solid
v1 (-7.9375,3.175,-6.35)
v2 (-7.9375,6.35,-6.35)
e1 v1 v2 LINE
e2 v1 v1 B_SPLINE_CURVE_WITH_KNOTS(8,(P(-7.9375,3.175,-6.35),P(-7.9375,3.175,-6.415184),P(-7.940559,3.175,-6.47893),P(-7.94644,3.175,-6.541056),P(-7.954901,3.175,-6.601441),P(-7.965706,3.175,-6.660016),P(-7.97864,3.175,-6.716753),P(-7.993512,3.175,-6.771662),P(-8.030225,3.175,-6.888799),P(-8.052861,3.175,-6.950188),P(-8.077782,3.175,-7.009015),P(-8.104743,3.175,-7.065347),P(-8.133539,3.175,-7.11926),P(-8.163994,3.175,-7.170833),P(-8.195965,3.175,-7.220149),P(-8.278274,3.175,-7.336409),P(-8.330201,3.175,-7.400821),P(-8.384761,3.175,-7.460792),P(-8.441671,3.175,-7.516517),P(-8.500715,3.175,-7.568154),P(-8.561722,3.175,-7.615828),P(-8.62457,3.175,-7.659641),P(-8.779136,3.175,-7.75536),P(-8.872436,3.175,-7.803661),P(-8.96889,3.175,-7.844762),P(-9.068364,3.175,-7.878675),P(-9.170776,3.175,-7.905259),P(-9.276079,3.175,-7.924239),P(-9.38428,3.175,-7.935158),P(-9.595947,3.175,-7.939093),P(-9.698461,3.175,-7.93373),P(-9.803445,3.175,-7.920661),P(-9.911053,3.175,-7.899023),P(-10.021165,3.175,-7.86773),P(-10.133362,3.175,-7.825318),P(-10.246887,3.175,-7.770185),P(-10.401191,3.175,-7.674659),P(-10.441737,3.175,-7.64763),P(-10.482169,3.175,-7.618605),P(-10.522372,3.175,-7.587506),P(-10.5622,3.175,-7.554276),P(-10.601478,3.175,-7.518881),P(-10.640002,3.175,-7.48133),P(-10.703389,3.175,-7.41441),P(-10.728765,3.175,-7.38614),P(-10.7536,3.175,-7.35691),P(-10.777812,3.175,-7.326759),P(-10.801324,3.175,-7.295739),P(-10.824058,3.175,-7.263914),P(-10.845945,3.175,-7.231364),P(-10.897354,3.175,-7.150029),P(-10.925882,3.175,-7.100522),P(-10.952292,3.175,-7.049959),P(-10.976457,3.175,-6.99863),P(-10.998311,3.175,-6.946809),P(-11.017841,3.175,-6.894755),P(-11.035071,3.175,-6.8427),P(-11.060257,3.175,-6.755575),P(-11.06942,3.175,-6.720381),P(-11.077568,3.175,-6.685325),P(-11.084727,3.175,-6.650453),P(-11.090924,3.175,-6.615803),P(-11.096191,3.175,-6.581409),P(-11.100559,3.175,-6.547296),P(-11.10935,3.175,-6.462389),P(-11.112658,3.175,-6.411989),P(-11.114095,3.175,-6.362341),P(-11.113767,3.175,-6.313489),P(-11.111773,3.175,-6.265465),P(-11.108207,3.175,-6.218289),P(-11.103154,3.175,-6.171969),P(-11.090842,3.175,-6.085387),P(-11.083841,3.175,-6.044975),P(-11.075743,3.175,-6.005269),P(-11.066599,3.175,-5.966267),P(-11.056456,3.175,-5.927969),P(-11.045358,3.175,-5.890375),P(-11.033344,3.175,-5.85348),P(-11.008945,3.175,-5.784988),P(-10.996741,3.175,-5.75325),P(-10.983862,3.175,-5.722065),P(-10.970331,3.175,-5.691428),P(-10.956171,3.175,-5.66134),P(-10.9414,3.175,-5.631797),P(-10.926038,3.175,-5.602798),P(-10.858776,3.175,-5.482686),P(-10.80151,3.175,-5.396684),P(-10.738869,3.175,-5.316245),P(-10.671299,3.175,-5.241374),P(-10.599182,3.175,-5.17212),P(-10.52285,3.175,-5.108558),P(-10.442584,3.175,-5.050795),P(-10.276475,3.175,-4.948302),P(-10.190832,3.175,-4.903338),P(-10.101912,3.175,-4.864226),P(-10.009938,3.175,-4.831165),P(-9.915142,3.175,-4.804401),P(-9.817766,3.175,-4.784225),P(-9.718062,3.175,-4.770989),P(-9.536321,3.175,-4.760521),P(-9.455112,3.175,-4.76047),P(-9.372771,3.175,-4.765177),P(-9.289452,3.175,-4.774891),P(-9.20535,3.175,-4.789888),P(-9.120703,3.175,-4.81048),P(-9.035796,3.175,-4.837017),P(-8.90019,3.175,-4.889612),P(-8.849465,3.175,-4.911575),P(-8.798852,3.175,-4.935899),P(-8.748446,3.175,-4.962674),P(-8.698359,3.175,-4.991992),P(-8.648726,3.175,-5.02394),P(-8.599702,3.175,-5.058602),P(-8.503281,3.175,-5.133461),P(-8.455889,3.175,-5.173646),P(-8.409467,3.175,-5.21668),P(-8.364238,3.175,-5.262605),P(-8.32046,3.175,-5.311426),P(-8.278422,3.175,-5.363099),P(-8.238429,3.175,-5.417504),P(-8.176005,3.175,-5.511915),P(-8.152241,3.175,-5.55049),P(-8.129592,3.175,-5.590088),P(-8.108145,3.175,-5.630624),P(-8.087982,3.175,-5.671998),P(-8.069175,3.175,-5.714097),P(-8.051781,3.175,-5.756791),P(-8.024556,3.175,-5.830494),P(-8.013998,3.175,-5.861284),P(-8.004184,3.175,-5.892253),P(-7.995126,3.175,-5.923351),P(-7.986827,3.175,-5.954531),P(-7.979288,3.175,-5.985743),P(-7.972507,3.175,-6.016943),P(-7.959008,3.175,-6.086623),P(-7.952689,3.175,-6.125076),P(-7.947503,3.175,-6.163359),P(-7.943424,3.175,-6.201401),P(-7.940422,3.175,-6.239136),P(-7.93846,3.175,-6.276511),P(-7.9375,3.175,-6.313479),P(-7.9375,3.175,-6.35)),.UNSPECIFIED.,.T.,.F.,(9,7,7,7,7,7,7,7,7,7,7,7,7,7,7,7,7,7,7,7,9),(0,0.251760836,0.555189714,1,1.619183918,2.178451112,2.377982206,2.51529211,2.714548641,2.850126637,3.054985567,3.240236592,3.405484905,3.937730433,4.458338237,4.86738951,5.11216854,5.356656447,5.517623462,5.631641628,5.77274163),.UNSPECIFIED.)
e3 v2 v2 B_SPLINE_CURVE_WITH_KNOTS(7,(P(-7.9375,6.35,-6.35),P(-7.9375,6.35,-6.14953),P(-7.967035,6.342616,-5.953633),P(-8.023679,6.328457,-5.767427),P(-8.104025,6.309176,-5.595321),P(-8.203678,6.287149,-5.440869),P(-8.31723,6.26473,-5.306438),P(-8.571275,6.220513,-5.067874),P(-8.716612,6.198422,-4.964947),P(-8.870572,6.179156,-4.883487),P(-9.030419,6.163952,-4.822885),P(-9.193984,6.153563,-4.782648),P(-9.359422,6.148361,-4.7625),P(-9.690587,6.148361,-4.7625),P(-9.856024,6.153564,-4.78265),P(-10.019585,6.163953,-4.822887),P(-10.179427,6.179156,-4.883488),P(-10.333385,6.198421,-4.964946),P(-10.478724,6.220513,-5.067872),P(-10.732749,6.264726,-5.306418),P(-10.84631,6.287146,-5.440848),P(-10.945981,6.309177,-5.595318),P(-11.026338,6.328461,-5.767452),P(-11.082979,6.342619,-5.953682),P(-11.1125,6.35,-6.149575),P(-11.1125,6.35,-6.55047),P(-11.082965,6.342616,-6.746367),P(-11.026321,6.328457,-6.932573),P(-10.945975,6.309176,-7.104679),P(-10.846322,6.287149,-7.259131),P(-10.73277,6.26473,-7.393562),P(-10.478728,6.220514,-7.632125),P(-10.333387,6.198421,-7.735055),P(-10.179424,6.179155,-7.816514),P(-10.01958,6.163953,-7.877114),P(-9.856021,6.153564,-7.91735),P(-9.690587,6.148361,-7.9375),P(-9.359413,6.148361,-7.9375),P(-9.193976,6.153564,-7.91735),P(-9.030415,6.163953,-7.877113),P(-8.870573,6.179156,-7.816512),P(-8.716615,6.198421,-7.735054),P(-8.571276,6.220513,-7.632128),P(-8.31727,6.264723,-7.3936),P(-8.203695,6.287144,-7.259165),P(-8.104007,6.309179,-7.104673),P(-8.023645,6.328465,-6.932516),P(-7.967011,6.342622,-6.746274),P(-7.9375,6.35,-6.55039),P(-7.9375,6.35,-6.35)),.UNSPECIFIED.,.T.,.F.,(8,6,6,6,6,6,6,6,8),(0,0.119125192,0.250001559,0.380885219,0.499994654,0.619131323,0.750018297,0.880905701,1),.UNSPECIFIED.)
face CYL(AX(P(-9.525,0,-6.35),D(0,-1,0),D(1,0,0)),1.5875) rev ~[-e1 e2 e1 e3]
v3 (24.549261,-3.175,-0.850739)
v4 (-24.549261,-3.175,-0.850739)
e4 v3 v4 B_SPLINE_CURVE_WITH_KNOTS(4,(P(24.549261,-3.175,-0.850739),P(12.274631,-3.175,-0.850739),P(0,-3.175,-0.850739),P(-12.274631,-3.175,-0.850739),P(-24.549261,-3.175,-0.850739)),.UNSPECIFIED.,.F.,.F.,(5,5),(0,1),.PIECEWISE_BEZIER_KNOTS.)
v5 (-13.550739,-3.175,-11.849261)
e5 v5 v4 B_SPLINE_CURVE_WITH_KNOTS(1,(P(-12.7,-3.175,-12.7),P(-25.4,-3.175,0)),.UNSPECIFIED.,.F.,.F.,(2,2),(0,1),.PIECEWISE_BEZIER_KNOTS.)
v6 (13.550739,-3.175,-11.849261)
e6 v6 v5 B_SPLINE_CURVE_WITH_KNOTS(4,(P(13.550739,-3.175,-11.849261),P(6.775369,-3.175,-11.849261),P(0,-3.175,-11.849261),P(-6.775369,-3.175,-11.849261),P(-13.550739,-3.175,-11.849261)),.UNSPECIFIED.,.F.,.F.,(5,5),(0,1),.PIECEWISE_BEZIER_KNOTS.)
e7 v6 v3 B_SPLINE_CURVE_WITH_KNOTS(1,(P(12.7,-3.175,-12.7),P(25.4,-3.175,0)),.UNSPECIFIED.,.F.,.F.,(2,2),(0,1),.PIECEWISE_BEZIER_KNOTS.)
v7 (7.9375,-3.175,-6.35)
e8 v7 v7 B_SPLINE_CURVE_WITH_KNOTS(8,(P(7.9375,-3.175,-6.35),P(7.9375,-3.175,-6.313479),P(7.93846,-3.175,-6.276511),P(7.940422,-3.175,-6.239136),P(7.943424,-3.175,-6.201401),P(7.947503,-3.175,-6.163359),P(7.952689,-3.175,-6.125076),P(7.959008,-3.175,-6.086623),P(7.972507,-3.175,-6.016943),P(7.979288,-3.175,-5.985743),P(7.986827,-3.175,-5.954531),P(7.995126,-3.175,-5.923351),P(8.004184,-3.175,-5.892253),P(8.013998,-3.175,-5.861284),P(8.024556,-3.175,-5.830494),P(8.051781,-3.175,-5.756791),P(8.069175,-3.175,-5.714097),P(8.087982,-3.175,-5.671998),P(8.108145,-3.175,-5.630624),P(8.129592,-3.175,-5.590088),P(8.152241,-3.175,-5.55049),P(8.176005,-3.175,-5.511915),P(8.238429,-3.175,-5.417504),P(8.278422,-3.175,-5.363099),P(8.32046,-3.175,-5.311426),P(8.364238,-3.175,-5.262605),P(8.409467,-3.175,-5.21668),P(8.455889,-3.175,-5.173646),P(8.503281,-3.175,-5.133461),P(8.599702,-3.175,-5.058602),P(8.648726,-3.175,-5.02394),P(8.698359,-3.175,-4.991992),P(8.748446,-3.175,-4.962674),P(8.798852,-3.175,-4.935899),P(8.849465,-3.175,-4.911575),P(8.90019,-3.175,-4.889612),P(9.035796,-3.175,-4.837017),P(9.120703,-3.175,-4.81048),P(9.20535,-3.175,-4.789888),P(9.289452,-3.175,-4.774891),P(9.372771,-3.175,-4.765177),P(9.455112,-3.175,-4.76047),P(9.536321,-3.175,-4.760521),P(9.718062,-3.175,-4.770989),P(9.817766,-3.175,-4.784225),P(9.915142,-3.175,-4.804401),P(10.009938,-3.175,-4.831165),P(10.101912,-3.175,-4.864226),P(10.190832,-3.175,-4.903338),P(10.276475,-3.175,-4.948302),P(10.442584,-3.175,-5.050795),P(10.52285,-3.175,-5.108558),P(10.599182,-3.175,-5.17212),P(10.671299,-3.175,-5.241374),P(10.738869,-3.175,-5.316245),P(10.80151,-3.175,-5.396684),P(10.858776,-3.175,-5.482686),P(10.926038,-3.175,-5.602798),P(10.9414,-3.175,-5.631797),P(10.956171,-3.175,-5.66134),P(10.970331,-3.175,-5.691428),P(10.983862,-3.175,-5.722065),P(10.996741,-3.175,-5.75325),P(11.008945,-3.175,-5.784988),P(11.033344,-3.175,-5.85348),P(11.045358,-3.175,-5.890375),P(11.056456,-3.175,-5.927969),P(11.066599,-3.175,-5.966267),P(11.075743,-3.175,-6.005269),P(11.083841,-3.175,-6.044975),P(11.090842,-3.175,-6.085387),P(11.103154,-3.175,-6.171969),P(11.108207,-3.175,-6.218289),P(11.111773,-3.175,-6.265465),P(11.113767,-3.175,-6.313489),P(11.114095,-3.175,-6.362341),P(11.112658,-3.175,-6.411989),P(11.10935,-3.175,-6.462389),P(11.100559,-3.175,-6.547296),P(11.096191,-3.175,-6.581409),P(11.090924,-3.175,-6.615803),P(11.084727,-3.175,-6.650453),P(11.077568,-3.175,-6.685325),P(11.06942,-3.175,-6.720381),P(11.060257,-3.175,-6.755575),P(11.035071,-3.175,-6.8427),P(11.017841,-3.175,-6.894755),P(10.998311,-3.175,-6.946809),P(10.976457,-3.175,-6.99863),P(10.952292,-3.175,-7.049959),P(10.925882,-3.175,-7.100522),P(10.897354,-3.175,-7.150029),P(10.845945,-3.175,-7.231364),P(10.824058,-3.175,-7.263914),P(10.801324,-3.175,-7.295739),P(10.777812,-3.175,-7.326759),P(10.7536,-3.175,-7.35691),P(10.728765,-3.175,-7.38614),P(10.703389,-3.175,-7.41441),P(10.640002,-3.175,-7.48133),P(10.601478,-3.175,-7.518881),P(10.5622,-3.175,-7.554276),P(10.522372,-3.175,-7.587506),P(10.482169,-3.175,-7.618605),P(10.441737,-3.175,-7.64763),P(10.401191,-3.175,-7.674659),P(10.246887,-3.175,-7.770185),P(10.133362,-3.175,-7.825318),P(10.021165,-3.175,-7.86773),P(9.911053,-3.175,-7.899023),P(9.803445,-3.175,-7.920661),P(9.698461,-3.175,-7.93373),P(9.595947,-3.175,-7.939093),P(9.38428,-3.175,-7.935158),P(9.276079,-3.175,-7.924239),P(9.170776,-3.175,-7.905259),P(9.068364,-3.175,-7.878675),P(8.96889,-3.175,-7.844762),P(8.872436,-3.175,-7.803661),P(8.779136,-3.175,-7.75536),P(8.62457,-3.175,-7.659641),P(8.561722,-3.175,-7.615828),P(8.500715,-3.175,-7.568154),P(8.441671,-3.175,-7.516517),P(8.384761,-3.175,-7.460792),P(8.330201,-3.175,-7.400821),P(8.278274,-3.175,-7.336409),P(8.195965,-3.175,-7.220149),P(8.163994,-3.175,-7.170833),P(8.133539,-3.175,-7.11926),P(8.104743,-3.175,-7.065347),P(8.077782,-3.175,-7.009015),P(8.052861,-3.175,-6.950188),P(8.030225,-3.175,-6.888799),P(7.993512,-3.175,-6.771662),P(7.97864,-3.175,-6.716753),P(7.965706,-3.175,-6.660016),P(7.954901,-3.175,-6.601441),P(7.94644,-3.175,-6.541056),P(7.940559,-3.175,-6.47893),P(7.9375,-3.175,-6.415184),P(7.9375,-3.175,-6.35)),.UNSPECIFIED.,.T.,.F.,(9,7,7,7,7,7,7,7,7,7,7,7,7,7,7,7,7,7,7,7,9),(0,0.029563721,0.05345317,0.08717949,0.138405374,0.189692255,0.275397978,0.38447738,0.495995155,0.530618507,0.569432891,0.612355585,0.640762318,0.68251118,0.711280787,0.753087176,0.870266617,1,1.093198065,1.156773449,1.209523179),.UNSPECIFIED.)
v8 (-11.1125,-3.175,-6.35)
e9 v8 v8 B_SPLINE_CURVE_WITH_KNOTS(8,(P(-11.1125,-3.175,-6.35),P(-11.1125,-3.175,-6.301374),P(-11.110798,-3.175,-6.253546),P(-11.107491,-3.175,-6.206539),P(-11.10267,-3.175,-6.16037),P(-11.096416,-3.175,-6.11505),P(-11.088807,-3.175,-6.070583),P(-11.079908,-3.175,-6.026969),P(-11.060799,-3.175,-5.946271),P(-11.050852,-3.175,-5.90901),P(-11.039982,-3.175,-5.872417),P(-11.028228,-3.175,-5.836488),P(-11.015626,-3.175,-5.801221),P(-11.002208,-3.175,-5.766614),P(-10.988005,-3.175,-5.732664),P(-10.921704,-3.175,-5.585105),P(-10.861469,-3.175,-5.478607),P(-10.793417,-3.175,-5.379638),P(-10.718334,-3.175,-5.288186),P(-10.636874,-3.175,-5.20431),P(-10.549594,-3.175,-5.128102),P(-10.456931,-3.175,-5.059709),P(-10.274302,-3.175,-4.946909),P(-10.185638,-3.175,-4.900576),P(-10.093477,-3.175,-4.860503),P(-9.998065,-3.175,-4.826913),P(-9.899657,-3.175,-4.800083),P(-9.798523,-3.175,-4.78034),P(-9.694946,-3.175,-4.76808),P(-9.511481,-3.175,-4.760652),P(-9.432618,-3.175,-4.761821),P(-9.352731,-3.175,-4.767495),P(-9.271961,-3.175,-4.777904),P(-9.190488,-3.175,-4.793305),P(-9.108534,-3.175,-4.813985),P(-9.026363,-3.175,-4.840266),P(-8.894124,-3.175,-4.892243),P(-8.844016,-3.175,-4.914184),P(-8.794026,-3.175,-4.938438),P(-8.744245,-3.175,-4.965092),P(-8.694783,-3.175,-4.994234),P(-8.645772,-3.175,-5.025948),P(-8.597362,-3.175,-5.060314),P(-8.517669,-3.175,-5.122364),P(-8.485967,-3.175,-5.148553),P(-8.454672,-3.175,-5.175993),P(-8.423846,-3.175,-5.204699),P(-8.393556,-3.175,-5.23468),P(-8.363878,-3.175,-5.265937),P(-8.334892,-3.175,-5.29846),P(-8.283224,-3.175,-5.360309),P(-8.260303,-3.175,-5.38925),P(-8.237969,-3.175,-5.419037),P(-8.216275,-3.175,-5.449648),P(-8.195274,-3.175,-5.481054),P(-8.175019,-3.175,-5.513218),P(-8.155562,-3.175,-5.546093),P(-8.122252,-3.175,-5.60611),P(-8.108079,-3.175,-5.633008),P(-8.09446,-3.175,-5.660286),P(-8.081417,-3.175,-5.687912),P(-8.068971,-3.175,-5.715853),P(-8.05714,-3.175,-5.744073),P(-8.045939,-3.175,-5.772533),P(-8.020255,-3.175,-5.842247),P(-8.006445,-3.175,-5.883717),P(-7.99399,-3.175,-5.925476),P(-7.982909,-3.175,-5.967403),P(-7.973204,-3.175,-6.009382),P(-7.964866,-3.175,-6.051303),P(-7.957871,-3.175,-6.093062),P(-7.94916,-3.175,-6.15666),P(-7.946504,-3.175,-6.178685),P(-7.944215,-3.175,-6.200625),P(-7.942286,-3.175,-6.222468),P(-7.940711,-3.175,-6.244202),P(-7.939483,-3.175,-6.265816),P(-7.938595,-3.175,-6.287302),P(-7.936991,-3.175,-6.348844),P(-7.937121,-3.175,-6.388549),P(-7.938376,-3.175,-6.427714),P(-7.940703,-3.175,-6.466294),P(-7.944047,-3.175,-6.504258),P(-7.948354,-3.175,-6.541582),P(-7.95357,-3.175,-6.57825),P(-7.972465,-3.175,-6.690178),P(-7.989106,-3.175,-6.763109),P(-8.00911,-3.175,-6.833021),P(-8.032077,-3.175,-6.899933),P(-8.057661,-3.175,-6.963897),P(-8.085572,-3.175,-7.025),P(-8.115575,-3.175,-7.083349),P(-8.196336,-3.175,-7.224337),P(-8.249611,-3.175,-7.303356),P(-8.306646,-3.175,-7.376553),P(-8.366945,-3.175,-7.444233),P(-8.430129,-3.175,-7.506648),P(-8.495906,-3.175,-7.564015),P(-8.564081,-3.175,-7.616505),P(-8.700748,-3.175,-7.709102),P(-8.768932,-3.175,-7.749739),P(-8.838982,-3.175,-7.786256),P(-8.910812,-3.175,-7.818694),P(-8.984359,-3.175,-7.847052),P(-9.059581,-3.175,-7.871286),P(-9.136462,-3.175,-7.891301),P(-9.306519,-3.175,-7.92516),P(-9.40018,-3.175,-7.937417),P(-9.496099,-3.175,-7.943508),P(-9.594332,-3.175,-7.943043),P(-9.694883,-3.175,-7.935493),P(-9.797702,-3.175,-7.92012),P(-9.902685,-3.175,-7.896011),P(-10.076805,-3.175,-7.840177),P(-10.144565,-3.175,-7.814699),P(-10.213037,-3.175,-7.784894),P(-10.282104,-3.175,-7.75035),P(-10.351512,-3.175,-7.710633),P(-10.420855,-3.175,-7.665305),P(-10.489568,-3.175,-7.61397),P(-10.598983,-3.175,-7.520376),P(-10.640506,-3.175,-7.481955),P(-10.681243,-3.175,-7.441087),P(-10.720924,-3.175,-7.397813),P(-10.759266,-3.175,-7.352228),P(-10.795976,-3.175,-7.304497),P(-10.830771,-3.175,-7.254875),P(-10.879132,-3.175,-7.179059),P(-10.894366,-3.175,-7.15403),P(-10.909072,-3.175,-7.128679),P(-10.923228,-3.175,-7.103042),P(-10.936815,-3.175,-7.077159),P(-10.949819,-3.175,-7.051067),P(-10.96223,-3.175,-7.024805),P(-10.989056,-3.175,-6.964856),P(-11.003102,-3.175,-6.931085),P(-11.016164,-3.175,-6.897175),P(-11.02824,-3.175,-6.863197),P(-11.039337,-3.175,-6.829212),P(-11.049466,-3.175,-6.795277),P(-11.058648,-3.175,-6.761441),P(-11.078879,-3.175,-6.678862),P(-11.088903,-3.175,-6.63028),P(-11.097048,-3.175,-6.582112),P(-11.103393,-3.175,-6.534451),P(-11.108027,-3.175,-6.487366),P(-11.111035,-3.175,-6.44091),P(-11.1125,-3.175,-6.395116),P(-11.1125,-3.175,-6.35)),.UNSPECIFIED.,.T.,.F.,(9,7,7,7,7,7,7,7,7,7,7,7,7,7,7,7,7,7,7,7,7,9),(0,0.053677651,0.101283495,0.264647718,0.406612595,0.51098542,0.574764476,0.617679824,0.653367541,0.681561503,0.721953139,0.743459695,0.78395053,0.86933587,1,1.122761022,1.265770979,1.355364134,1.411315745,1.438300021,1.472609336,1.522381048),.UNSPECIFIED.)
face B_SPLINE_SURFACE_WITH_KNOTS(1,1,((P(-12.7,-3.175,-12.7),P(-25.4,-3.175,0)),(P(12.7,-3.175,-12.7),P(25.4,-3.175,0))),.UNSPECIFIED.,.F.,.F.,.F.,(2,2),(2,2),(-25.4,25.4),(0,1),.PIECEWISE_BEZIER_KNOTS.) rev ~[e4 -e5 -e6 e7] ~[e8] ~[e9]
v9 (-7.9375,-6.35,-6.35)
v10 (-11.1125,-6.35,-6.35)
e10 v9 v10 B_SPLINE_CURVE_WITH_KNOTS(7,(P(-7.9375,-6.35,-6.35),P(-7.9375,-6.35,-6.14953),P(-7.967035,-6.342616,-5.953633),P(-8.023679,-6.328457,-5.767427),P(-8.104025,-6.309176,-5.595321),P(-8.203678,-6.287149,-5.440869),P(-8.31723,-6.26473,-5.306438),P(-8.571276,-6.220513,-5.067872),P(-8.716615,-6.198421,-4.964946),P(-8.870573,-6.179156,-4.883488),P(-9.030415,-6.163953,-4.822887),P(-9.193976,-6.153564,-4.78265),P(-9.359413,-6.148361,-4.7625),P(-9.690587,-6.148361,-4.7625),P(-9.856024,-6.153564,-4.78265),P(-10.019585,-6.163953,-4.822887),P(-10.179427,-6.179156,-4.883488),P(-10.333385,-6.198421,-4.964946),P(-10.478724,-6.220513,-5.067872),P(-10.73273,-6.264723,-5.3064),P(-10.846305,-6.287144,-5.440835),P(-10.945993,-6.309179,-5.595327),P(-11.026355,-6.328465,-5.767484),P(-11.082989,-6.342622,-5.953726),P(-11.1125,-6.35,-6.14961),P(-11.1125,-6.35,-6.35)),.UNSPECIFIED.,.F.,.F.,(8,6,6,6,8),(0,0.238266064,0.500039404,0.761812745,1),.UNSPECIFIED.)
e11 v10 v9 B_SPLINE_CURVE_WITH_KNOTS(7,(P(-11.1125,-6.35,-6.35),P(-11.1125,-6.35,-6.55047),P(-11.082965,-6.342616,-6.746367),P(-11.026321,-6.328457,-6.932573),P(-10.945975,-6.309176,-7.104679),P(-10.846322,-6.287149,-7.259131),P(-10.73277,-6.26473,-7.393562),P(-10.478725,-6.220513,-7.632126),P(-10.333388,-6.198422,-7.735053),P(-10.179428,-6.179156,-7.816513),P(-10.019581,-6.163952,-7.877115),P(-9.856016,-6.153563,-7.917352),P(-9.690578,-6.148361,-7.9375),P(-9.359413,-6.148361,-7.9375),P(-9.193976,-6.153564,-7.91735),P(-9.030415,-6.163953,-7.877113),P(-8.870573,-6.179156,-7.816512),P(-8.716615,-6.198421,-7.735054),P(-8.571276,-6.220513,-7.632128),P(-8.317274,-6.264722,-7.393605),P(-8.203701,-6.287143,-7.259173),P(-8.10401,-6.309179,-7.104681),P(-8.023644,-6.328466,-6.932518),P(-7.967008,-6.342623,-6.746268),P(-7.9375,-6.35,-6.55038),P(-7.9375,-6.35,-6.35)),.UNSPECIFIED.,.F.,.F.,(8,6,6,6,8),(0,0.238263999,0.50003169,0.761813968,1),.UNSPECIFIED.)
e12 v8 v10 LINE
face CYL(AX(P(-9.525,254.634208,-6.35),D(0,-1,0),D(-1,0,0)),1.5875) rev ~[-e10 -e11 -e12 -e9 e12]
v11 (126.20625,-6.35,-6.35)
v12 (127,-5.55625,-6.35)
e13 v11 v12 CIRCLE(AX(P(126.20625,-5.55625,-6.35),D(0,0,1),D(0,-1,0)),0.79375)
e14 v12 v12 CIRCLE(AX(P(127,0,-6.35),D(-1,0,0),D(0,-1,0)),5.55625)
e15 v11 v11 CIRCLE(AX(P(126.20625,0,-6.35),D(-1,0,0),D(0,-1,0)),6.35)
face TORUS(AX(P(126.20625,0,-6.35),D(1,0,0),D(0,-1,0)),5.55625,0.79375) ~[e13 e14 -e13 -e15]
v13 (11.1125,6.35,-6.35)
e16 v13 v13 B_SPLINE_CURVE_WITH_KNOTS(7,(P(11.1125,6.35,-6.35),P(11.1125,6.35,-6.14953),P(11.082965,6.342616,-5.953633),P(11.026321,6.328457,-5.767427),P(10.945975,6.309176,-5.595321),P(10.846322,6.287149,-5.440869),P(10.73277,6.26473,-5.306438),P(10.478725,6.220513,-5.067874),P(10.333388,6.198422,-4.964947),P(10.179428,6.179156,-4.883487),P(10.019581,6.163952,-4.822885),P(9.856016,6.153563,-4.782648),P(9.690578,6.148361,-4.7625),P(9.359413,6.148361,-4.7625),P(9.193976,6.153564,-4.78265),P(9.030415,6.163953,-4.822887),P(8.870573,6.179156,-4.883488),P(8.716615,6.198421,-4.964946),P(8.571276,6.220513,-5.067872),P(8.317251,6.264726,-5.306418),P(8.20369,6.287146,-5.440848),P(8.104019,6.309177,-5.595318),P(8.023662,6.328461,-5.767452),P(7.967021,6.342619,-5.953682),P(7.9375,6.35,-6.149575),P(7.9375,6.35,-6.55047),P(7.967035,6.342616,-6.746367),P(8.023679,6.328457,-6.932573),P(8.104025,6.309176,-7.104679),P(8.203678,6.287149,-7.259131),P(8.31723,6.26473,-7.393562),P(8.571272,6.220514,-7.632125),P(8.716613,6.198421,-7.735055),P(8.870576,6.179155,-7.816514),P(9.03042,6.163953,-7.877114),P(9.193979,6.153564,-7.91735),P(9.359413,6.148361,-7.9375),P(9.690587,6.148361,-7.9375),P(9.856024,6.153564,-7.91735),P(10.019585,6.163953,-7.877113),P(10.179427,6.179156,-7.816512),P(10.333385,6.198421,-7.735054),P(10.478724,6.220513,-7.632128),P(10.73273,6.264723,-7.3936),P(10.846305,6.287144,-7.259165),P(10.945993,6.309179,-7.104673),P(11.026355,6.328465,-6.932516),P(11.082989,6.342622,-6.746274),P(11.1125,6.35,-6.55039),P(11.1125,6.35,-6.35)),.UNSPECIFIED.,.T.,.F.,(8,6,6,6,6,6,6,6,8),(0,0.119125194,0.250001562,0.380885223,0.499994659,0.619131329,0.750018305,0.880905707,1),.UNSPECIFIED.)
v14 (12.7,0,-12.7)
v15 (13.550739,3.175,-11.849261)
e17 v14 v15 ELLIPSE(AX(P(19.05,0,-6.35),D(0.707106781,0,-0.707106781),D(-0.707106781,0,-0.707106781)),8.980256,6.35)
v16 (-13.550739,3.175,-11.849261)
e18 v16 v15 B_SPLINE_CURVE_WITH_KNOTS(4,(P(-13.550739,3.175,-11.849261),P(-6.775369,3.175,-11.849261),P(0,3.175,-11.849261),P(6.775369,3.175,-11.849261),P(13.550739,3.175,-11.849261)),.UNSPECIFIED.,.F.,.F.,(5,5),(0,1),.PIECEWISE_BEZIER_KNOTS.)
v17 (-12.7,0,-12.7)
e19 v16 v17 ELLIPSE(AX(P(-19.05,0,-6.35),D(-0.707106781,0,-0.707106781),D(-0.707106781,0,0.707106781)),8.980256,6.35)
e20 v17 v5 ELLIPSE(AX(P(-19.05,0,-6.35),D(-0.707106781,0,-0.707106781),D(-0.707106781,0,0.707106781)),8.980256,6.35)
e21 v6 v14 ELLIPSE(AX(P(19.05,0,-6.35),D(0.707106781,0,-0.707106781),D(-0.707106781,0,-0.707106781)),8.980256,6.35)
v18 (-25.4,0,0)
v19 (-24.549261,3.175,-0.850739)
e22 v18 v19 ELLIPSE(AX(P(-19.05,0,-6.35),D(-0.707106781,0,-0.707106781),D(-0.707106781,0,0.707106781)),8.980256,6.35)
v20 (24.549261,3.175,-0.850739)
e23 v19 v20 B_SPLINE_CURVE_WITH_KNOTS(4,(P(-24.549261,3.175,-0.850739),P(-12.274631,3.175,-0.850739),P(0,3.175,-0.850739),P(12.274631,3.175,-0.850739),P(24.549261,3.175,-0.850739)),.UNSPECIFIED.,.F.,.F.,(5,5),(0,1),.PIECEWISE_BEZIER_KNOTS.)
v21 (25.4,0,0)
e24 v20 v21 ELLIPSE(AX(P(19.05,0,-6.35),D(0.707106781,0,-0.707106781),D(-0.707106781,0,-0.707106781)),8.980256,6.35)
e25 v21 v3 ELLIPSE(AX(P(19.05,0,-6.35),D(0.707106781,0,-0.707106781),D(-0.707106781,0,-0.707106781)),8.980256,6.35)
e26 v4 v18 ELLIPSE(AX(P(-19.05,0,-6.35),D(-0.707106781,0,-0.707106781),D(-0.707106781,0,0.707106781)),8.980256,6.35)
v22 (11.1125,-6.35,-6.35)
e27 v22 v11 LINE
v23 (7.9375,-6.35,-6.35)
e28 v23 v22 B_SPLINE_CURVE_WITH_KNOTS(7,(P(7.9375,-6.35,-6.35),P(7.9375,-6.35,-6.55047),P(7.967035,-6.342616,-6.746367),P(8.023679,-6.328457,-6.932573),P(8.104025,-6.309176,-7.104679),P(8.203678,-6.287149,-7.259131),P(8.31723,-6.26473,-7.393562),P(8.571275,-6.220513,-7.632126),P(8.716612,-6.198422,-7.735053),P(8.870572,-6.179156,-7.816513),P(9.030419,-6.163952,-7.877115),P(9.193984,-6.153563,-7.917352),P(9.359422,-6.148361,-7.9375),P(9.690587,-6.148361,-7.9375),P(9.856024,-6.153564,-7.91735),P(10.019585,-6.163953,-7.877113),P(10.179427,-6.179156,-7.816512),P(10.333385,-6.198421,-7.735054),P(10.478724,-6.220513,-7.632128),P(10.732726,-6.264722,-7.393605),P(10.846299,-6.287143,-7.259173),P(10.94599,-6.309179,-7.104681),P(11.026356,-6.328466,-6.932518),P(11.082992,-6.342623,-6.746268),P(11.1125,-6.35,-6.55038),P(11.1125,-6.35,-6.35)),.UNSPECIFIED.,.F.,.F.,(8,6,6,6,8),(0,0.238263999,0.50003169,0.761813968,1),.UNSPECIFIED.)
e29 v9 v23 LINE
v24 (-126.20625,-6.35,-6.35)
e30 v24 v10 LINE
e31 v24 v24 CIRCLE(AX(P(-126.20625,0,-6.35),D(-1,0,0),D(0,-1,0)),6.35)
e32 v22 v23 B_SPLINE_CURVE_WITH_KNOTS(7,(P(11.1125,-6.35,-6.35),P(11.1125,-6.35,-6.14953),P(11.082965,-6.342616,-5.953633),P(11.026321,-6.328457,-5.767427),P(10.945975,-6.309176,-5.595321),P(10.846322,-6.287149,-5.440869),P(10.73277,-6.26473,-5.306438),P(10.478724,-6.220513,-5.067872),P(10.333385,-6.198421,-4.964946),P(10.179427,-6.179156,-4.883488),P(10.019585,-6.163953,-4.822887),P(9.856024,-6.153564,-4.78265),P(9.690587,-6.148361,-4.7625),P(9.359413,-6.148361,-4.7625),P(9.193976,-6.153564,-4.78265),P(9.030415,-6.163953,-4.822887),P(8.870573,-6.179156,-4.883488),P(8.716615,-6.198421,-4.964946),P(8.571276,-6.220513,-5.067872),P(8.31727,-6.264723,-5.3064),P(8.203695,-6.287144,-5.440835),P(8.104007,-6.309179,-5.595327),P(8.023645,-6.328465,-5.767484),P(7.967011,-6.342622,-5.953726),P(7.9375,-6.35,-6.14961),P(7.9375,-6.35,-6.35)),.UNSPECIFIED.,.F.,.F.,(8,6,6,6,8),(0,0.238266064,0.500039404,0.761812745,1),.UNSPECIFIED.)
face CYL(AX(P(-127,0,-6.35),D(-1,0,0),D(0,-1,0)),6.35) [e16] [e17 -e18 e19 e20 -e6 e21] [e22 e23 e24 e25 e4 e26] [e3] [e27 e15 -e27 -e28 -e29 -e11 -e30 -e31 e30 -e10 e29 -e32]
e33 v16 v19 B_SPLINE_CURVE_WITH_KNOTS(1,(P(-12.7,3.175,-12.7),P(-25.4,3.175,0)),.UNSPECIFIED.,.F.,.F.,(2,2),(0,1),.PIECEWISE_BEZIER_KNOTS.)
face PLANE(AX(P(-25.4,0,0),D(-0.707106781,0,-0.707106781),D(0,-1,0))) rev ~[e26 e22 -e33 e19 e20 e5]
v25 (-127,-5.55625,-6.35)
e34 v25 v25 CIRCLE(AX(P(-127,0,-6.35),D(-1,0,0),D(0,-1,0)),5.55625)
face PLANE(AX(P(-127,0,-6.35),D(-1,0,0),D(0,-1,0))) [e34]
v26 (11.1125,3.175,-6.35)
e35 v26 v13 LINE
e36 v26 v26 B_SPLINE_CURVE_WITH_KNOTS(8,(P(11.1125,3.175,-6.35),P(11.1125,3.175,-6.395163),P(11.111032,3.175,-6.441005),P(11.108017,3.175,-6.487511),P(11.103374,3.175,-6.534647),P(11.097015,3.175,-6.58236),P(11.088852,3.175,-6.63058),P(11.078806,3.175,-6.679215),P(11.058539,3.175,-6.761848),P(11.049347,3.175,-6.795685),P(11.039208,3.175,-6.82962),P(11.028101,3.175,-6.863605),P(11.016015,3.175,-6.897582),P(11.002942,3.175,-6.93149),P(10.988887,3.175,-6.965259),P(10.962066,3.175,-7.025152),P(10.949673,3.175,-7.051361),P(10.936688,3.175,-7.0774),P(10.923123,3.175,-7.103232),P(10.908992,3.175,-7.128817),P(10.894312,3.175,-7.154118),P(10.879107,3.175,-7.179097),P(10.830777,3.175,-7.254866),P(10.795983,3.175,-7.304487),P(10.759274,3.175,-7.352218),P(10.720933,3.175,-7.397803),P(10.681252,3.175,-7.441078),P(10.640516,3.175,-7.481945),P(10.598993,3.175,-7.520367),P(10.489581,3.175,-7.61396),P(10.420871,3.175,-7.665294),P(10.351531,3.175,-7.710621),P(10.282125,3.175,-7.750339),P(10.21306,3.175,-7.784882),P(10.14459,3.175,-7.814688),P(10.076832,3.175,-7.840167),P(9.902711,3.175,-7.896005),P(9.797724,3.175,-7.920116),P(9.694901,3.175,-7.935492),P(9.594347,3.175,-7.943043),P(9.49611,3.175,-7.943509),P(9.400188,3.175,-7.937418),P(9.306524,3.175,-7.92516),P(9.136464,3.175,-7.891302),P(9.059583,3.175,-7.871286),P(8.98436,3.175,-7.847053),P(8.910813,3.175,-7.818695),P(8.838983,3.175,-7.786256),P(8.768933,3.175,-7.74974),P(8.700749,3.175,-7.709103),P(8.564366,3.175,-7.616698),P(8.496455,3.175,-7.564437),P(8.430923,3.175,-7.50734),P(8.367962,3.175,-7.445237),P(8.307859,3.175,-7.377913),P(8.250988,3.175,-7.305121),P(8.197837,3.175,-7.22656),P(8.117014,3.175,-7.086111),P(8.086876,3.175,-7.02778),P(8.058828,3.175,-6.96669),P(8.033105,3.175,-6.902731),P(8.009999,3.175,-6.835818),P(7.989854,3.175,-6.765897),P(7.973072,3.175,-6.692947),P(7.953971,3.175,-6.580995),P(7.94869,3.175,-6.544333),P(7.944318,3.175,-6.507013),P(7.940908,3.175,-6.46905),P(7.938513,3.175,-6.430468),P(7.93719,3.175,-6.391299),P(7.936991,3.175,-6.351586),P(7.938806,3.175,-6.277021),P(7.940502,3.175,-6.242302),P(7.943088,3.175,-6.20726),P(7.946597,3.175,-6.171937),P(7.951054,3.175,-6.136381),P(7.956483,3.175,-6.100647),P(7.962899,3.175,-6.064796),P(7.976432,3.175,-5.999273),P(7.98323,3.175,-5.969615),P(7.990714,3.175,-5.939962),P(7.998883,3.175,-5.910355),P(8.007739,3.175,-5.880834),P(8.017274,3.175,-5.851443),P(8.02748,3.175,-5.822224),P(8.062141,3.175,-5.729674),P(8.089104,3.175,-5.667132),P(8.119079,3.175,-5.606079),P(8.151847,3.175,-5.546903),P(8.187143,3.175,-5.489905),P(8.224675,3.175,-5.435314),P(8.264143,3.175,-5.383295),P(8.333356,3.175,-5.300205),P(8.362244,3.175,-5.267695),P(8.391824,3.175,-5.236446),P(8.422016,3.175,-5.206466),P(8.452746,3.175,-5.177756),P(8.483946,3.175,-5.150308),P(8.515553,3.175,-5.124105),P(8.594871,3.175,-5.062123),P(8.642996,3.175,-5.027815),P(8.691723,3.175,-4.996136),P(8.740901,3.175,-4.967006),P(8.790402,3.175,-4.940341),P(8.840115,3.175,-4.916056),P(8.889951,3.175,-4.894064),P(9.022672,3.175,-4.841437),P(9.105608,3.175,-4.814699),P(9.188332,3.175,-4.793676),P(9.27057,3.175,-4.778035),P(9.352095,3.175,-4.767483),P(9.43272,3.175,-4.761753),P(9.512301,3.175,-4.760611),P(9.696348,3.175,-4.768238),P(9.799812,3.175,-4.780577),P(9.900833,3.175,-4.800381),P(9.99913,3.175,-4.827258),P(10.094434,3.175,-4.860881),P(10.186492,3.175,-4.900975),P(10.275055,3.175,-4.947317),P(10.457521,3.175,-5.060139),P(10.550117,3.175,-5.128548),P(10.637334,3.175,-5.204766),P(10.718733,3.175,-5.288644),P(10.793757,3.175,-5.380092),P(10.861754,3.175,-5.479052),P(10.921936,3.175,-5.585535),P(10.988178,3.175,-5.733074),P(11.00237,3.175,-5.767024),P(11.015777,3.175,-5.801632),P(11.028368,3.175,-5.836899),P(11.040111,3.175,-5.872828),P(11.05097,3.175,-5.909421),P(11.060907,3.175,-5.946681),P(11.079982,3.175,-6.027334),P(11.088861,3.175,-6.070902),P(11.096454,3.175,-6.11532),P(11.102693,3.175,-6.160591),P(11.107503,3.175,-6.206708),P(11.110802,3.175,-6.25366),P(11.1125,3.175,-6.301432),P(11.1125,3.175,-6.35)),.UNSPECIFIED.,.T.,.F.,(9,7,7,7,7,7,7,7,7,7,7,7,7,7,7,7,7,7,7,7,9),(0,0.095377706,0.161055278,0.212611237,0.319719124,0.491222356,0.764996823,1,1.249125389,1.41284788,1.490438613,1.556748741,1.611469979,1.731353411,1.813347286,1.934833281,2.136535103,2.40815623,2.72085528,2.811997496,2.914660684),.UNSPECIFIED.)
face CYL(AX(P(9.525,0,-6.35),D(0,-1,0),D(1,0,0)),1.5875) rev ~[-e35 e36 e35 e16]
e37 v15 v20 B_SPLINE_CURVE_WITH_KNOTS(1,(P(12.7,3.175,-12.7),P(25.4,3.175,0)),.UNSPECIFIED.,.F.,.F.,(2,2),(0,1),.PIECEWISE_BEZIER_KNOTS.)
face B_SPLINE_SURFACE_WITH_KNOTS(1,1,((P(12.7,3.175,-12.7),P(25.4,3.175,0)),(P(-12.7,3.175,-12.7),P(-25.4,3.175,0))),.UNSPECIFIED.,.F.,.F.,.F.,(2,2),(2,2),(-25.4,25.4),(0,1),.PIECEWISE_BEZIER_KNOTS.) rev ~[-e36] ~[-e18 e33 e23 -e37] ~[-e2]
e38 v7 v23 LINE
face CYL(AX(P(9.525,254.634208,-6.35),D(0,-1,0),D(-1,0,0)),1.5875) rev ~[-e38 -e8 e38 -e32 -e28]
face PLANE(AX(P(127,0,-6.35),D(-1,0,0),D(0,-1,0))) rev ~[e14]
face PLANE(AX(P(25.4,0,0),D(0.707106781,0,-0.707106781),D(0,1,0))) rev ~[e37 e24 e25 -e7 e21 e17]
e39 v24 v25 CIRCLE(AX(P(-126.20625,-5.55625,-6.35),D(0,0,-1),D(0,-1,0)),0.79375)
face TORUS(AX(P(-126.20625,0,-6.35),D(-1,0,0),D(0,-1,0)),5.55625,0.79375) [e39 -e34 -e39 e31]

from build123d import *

# Parameters (mm, degrees)
F7_R      = 6.35
F8_DEPTH  = 254
F10_W     = 25.4
F10_H     = 6.35
F9_W      = 50.8
F9_H      = 6.35
F11_D     = 3.175
F11_DEPTH = 6.3510001
F5_D      = 3.175
F6_R      = 0.79375


with BuildPart() as f8:
    # F7 (on line) → F8 (new body)
    with BuildSketch(Plane(origin=(-127, 0, 0), x_dir=(0, -1, 0), z_dir=(-1, 0, 0))):
        with Locations((0, -6.35)):
            Circle(F7_R)
    extrude(amount=-F8_DEPTH)

    # F10 (on line) → F4 section 0
    with BuildSketch(Plane.XY.offset(-12.7)):
        Rectangle(F10_W, F10_H)
    # F9 (on line) → F4 section 1
    with BuildSketch(Plane.XY):
        Rectangle(F9_W, F9_H)
    loft(mode=Mode.SUBTRACT)

    # F11 (through all, one way)
    with BuildSketch(Plane.XZ):
        with Locations((-9.525, -6.35), (9.525, -6.35)):
            Circle(F11_D / 2)
    extrude(amount=-F11_DEPTH, mode=Mode.SUBTRACT)

    # F5 (through all)
    with Locations(Plane(origin=(0, 0, 0), x_dir=(1, 0, 0), z_dir=(0, 1, 0))):
        with Locations((-9.525, 6.35), (9.525, 6.35)):
            Hole(F5_D / 2)

    # F6
    f6_edges = [f8.edges().sort_by_distance(p)[0] for p in [
        (127, 6.35, -6.35),
        (-127, 6.35, -6.35),
    ]]
    fillet(f6_edges, radius=F6_R)


solid = f8.part
